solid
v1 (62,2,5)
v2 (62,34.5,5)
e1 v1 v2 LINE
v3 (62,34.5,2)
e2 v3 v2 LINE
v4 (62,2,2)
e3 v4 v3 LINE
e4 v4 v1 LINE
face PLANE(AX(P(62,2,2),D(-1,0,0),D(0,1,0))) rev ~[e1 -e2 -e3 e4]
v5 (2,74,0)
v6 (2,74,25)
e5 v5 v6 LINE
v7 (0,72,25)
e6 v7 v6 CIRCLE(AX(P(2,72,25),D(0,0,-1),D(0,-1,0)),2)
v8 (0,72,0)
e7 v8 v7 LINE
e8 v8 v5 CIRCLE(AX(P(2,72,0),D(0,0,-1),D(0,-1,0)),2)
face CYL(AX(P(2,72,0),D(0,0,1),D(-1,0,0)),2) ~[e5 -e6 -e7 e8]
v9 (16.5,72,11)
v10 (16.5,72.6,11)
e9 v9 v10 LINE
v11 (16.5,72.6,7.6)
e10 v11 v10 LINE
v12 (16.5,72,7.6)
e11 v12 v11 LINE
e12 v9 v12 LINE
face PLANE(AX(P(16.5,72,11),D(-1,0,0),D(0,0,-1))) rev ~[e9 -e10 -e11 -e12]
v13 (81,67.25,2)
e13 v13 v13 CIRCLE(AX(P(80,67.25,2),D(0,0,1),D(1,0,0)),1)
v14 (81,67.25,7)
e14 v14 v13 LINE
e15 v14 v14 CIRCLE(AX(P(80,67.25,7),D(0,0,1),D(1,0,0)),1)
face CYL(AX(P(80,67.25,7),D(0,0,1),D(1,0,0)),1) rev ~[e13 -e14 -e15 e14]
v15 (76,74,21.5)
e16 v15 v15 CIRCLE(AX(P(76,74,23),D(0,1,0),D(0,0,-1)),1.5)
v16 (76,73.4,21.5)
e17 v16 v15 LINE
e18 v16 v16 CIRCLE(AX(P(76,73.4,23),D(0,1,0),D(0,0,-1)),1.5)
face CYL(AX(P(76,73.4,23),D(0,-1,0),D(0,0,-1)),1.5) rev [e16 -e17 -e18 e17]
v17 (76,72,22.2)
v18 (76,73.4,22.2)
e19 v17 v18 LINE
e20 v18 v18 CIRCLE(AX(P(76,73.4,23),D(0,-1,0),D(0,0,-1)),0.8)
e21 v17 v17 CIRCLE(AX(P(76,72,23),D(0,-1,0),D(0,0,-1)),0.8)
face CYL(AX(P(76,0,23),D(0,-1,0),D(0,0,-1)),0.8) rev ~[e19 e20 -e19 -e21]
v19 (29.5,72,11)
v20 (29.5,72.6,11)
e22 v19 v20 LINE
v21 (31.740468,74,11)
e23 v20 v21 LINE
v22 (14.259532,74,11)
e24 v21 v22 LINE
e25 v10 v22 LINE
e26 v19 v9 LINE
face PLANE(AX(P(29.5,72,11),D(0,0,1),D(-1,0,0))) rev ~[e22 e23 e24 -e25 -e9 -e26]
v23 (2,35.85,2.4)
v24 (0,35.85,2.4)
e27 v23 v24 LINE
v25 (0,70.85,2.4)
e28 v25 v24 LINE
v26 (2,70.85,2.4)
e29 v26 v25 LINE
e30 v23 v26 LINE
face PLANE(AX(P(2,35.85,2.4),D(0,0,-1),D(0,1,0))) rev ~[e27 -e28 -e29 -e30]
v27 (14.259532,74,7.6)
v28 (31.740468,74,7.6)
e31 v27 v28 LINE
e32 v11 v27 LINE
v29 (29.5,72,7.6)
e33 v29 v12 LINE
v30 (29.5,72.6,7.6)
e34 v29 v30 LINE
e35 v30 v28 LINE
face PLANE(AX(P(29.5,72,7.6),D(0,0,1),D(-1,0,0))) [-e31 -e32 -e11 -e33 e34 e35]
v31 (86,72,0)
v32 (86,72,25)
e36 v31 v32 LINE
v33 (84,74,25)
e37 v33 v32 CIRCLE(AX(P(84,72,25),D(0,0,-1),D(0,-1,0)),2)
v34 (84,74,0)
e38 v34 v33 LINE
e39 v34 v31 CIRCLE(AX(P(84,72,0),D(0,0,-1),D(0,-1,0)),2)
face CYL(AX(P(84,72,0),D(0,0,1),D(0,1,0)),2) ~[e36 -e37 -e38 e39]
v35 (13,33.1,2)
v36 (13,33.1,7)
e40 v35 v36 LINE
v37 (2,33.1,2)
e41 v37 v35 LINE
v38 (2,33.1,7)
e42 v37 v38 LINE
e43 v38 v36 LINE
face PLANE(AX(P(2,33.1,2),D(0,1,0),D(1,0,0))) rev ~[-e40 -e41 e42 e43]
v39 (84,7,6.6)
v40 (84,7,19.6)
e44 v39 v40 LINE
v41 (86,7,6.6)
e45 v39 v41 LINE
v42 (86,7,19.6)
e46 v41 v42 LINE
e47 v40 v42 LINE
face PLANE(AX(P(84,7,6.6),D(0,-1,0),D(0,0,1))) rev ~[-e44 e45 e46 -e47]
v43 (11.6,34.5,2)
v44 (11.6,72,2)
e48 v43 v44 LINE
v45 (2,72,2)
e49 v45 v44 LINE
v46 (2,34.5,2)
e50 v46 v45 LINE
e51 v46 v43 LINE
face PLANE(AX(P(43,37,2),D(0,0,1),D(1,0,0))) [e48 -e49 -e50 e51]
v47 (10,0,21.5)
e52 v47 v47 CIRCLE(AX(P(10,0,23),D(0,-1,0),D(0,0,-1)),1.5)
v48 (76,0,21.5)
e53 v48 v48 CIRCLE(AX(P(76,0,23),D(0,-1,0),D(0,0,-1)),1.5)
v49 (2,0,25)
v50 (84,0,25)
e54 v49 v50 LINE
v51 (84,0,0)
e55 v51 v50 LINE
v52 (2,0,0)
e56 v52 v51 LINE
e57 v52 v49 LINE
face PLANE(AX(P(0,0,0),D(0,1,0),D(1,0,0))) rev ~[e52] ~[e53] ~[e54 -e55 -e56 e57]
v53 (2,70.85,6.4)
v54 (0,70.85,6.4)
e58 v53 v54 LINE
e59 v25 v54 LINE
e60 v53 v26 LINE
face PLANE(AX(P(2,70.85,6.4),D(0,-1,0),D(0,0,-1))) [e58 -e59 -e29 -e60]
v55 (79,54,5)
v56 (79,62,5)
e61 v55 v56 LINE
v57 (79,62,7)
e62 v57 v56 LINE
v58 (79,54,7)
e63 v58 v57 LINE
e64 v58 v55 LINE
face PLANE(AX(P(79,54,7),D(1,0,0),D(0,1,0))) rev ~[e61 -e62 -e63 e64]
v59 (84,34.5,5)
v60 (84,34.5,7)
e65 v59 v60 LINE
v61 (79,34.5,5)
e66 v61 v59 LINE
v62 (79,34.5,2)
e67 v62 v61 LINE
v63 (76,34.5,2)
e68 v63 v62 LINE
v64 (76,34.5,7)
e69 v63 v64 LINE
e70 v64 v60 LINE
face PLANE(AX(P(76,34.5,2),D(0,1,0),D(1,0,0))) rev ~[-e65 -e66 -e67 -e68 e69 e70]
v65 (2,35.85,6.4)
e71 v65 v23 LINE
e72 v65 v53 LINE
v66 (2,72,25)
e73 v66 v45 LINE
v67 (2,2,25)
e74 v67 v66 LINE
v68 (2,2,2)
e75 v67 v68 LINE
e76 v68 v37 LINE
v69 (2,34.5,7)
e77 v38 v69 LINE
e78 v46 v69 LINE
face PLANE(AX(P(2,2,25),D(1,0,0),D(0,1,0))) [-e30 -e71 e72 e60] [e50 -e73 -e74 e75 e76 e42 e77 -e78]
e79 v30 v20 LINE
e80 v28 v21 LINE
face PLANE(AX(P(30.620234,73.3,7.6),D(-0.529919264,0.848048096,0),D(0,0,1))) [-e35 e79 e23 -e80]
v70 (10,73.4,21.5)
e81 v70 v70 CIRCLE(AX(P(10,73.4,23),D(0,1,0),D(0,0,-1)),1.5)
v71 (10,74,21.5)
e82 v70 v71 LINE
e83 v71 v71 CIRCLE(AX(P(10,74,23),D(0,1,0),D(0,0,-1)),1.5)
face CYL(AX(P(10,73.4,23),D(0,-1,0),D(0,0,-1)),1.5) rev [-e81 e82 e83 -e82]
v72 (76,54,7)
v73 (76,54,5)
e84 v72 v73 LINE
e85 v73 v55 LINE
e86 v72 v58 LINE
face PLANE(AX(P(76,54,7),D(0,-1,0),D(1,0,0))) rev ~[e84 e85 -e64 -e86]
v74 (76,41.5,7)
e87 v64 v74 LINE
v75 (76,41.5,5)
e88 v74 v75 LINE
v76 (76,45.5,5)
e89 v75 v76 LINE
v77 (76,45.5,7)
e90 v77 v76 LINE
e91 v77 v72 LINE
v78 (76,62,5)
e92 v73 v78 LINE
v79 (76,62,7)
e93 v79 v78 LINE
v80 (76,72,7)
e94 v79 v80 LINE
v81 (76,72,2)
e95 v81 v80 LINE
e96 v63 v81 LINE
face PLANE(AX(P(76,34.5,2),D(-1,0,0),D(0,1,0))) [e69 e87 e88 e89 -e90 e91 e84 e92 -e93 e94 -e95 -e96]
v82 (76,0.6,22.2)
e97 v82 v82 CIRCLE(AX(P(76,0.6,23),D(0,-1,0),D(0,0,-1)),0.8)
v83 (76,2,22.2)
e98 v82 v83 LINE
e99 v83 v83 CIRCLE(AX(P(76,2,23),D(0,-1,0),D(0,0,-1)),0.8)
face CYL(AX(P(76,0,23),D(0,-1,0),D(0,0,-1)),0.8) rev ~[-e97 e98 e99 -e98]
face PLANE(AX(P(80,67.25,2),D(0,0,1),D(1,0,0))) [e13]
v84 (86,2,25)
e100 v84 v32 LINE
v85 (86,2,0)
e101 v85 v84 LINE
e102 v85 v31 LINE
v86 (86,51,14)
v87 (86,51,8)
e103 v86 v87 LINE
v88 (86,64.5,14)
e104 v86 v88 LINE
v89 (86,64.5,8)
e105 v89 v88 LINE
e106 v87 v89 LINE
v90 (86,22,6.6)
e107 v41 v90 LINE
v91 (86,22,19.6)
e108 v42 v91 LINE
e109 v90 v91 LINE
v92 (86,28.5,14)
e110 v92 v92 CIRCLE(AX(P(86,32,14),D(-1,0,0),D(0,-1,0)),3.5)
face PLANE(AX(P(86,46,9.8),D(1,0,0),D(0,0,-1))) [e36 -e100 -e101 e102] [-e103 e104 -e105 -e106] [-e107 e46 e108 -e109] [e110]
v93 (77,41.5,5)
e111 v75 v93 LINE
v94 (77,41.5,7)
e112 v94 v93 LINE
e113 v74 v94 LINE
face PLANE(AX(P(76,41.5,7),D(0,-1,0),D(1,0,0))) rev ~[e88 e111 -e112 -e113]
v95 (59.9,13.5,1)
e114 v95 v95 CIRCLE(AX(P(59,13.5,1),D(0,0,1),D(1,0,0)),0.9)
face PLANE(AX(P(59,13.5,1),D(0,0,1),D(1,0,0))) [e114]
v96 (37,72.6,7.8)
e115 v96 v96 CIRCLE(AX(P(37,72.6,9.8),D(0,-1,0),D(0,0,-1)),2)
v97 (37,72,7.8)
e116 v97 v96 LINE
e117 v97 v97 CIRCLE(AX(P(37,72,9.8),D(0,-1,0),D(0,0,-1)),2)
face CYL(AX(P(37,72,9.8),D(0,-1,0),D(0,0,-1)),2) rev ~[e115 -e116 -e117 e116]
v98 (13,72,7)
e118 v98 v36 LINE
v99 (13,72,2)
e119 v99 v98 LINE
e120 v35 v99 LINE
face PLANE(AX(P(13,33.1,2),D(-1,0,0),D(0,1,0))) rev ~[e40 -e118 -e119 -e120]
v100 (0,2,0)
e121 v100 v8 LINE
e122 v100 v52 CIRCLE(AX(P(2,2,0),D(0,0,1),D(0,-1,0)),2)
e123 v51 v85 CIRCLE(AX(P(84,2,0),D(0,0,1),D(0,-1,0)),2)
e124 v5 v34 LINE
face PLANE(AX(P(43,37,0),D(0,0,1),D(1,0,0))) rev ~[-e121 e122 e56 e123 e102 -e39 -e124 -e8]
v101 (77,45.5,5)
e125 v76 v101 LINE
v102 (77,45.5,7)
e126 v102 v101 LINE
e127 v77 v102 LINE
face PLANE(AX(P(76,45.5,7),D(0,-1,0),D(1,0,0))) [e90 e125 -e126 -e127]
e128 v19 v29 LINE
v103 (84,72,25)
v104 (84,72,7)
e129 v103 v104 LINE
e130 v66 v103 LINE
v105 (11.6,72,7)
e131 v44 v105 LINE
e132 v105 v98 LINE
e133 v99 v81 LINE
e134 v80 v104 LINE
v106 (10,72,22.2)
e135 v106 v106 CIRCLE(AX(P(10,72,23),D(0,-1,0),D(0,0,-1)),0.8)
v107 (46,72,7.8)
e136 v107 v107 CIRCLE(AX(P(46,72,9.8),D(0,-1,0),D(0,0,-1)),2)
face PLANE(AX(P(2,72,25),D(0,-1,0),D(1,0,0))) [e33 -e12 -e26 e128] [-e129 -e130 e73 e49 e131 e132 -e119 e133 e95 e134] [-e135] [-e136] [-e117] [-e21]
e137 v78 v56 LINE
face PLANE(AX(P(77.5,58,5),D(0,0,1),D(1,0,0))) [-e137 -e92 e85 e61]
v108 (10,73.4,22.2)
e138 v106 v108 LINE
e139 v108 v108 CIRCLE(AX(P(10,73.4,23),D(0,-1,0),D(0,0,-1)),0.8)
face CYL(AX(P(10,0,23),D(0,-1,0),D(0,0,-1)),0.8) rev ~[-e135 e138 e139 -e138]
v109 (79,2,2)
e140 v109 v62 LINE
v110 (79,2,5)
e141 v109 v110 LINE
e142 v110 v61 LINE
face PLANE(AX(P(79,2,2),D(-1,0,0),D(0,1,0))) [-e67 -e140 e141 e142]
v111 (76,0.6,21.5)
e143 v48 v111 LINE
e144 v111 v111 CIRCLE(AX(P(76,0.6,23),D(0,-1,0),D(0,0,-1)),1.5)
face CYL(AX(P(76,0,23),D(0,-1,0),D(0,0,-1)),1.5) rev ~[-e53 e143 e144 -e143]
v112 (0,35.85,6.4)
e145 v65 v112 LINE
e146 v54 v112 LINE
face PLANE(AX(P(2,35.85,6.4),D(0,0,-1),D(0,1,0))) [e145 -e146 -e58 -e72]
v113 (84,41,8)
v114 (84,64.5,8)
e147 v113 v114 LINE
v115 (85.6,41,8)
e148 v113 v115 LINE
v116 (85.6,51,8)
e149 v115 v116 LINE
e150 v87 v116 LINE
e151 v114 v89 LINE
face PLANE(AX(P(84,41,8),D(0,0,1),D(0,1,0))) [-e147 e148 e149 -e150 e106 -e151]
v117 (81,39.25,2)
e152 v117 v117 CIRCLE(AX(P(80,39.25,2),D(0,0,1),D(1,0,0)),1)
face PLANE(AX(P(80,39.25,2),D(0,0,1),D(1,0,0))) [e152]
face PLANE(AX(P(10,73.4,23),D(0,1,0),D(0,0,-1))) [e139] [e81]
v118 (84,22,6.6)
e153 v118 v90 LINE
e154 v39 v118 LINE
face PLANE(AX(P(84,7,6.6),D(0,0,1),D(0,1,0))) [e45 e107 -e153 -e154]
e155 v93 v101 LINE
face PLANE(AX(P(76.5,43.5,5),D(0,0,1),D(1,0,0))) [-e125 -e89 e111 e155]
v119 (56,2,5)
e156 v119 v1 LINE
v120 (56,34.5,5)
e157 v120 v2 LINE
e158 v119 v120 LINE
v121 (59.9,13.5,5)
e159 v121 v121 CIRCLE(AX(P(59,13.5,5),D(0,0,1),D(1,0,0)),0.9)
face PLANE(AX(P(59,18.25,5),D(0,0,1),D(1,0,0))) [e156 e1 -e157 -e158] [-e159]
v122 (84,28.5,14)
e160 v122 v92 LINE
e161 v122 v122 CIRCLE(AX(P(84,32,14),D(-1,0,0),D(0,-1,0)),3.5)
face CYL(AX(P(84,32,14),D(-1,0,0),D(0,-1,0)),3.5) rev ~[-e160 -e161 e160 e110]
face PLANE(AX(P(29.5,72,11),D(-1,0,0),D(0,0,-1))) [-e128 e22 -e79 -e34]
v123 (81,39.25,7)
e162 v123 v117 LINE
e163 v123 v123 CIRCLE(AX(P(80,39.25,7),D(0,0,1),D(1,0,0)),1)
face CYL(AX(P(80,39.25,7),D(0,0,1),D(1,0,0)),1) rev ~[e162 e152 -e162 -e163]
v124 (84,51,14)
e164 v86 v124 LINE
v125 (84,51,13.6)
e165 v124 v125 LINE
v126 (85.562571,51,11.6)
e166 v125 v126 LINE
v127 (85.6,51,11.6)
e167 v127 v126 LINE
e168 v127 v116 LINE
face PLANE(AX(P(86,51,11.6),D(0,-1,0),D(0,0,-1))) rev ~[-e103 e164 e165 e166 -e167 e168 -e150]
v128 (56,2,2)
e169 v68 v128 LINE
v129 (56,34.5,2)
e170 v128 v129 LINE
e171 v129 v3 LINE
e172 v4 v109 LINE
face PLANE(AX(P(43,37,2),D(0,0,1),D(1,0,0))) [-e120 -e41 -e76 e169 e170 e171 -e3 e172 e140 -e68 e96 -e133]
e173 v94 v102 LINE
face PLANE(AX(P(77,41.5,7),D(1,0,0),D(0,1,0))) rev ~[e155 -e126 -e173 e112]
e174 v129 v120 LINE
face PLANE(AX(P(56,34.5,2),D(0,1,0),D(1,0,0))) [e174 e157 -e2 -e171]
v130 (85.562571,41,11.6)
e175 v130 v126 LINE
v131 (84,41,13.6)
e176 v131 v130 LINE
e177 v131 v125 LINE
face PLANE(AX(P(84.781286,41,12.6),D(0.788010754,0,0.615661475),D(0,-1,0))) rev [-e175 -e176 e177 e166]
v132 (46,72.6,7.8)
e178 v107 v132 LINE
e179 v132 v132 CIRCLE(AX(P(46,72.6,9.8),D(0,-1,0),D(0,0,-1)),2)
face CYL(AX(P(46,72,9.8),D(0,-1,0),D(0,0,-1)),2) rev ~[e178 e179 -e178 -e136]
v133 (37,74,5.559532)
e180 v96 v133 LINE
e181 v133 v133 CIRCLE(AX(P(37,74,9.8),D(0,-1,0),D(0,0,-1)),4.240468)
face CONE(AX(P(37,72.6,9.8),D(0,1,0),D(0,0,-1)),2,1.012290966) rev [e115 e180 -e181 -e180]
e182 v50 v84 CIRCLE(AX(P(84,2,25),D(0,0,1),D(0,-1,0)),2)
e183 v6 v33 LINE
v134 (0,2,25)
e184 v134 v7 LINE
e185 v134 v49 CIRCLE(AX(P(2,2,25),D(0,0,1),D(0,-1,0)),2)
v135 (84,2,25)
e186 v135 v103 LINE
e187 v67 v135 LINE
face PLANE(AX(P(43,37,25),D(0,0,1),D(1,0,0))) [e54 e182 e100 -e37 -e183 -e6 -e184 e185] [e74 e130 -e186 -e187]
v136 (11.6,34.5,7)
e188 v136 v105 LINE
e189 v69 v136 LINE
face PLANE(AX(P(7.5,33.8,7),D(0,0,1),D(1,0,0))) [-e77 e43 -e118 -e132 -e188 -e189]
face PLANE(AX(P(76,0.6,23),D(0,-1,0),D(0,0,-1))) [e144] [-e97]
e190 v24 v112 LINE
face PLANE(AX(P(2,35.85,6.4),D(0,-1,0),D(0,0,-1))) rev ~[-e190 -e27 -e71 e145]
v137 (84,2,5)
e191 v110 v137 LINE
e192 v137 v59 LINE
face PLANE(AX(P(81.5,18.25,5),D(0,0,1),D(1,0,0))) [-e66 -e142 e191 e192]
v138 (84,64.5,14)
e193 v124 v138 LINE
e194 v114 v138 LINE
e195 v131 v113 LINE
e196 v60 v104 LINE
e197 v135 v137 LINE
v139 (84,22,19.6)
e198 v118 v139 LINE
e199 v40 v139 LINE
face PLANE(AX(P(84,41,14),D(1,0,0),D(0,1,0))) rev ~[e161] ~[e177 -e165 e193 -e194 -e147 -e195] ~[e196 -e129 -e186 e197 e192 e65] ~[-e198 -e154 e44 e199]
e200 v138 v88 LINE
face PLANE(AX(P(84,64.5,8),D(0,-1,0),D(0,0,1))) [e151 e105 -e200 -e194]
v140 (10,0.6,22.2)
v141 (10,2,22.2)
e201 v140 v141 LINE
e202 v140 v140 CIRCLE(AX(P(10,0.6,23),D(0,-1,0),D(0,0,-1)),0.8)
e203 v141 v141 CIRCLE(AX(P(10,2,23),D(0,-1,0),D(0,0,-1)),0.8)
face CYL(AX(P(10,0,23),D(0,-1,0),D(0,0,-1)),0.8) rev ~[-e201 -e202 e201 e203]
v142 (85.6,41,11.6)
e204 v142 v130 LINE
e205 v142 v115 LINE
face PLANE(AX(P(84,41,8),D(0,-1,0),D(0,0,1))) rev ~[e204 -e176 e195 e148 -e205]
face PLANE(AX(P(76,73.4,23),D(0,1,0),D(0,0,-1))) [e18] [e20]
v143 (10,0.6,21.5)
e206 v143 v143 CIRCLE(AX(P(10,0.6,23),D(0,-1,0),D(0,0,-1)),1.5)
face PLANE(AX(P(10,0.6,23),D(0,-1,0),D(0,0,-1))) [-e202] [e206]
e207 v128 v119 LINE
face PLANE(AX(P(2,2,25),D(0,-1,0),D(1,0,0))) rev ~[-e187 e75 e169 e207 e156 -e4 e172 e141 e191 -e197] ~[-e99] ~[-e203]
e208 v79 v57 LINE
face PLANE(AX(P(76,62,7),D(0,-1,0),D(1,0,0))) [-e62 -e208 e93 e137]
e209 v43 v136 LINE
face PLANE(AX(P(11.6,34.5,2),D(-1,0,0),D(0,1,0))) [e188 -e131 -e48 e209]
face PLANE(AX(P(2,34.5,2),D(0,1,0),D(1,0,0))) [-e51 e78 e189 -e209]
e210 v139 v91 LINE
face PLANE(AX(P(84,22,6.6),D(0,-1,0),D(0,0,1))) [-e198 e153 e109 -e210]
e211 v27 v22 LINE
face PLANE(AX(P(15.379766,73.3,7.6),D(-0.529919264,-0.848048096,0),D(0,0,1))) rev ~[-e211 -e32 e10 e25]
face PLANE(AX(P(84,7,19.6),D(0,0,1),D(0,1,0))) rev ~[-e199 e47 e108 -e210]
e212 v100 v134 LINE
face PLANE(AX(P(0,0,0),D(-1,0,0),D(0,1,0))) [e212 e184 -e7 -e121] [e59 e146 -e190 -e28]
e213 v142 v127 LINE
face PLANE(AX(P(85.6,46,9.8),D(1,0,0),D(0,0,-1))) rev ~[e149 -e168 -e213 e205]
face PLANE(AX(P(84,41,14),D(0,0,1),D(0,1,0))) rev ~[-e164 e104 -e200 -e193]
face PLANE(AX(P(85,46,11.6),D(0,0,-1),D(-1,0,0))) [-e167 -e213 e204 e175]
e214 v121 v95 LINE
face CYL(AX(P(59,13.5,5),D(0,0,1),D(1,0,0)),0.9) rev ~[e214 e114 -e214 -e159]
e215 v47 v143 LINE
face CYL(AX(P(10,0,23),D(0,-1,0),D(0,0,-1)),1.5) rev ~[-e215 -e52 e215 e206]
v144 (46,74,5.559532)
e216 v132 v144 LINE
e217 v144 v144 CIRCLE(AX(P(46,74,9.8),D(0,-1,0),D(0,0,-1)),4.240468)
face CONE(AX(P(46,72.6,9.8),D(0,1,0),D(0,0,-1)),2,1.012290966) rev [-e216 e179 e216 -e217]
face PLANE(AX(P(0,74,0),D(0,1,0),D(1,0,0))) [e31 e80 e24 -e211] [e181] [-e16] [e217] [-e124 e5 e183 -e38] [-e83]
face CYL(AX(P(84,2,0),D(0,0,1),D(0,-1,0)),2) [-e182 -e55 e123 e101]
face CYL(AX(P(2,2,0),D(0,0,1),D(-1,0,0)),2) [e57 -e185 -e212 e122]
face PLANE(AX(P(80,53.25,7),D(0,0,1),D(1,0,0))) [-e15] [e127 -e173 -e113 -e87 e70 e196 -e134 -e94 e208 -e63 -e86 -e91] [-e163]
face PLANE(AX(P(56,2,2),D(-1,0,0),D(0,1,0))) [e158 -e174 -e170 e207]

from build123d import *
from OCP.BRepFilletAPI import BRepFilletAPI_MakeChamfer

# Parameters (mm, degrees)
SKETCH1_W           = 86
SKETCH1_H           = 74
BOSS_EXTRUDE1_DEPTH = 25
SKETCH3_W           = 82
SKETCH3_H           = 70
CUT_EXTRUDE1_DEPTH  = 23
SKETCH4_W           = 8
SKETCH4_H           = 37.5
SKETCH4_W_2         = 1.4
BOSS_EXTRUDE2_DEPTH = 5
SKETCH5_W           = 3
SKETCH5_H           = 8
SKETCH5_W_2         = 1
SKETCH5_H_2         = 4
CUT_EXTRUDE2_DEPTH  = 2
SKETCH6_R           = 1
CUT_EXTRUDE3_DEPTH  = 5
SKETCH7_W           = 4
SKETCH7_H           = 35
CUT_EXTRUDE4_DEPTH  = 5
SKETCH8_W           = 6
SKETCH8_H           = 23.5
CUT_EXTRUDE5_DEPTH  = 5
SKETCH9_W           = 5
SKETCH9_H           = 32.5
SKETCH9_W_2         = 6
BOSS_EXTRUDE3_DEPTH = 3
SKETCH10_R          = 0.9
CUT_EXTRUDE6_DEPTH  = 4
SKETCH11_W          = 13
SKETCH11_H          = 15
CUT_EXTRUDE7_DEPTH  = 4
FILLET1_R           = 2
SKETCH12_R          = 3.5
CUT_EXTRUDE8_DEPTH  = 4
SKETCH13_R          = 2
SKETCH13_W          = 13
SKETCH13_H          = 3.4
CUT_EXTRUDE9_DEPTH  = 4
CHAMFER1_SIZE       = 1.4
CHAMFER1_SIZE2      = 2.240468341
SKETCH14_R          = 0.8
CUT_EXTRUDE10_DEPTH = 76
SKETCH15_R          = 1.5
CUT_EXTRUDE11_DEPTH = 0.6
CUT_EXTRUDE12_START = -0.6
SKETCH16_R          = 1.5
CUT_EXTRUDE12_DEPTH = 0.6
SKETCH17_W          = 2
SKETCH17_H          = 10
BOSS_EXTRUDE4_DEPTH = 2.4
SKETCH18_W          = 3.6
SKETCH18_H          = 10
BOSS_EXTRUDE5_DEPTH = 0.4
CHAMFER2_SIZE       = 2
CHAMFER2_SIZE2      = 1.562571253
SKETCH20_W          = 11
SKETCH20_H          = 1.4
BOSS_EXTRUDE6_DEPTH = 5


with BuildPart() as part:
    # Sketch1 → Boss-Extrude1 (new body)
    with BuildSketch(Plane.XY):
        with Locations((43, 37)):
            Rectangle(SKETCH1_W, SKETCH1_H)
    extrude(amount=BOSS_EXTRUDE1_DEPTH)

    # Sketch3 → Cut-Extrude1 (cut)
    with BuildSketch(Plane.XY.offset(25)):
        with Locations((43, 37)):
            Rectangle(SKETCH3_W, SKETCH3_H)
    extrude(amount=-CUT_EXTRUDE1_DEPTH, mode=Mode.SUBTRACT)

    # Sketch4 → Boss-Extrude2 (add)
    with BuildSketch(Plane.XY.offset(2)):
        with Locations((80, 53.25)):
            Rectangle(SKETCH4_W, SKETCH4_H)
        with Locations((12.3, 53.25)):
            Rectangle(SKETCH4_W_2, SKETCH4_H)
    extrude(amount=BOSS_EXTRUDE2_DEPTH)

    # Sketch5 → Cut-Extrude2 (cut)
    with BuildSketch(Plane.XY.offset(7)):
        with Locations((77.5, 58)):
            Rectangle(SKETCH5_W, SKETCH5_H)
        with Locations((76.5, 43.5)):
            Rectangle(SKETCH5_W_2, SKETCH5_H_2)
    extrude(amount=-CUT_EXTRUDE2_DEPTH, mode=Mode.SUBTRACT)

    # Sketch6 → Cut-Extrude3 (cut)
    with BuildSketch(Plane.XY.offset(7)):
        with Locations((80, 67.25)):
            Circle(SKETCH6_R)
        with Locations((80, 39.25)):
            Circle(SKETCH6_R)
    extrude(amount=-CUT_EXTRUDE3_DEPTH, mode=Mode.SUBTRACT)

    # Sketch7 → Cut-Extrude4 (cut)
    with BuildSketch(Plane(origin=(2, 0, 0), x_dir=(0, 0, -1), z_dir=(1, 0, 0))):
        with Locations((-4.4, 53.35)):
            Rectangle(SKETCH7_W, SKETCH7_H)
    extrude(amount=-CUT_EXTRUDE4_DEPTH, mode=Mode.SUBTRACT)

    # Sketch8 → Cut-Extrude5 (cut)
    with BuildSketch(Plane.ZY.offset(-84)):
        with Locations((11, 52.75)):
            Rectangle(SKETCH8_W, SKETCH8_H)
    extrude(amount=-CUT_EXTRUDE5_DEPTH, mode=Mode.SUBTRACT)

    # Sketch9 → Boss-Extrude3 (add)
    with BuildSketch(Plane.XY.offset(2)):
        with Locations((81.5, 18.25)):
            Rectangle(SKETCH9_W, SKETCH9_H)
        with Locations((59, 18.25)):
            Rectangle(SKETCH9_W_2, SKETCH9_H)
    extrude(amount=BOSS_EXTRUDE3_DEPTH)

    # Sketch10 → Cut-Extrude6 (cut)
    with BuildSketch(Plane.XY.offset(5)):
        with Locations((59, 13.5)):
            Circle(SKETCH10_R)
    extrude(amount=-CUT_EXTRUDE6_DEPTH, mode=Mode.SUBTRACT)

    # Sketch11 → Cut-Extrude7 (cut)
    with BuildSketch(Plane.ZY.offset(-84)):
        with Locations((13.1, 14.5)):
            Rectangle(SKETCH11_W, SKETCH11_H)
    extrude(amount=-CUT_EXTRUDE7_DEPTH, mode=Mode.SUBTRACT)

    # Fillet1
    fillet1_edges = [part.edges().sort_by_distance(p)[0] for p in [
        (0, 74, 12.5),
        (86, 74, 12.5),
        (86, 0, 12.5),
        (0, 0, 12.5),
    ]]
    fillet(fillet1_edges, radius=FILLET1_R)

    # Sketch12 → Cut-Extrude8 (cut)
    with BuildSketch(Plane.ZY.offset(-84)):
        with Locations(Location((14, 32, 0), (0, 0, 270))):
            Circle(SKETCH12_R)
    extrude(amount=-CUT_EXTRUDE8_DEPTH, mode=Mode.SUBTRACT)

    # Sketch13 → Cut-Extrude9 (cut)
    with BuildSketch(Plane(origin=(0, 72, 0), x_dir=(-1, 0, 0), z_dir=(0, -1, 0))):
        with Locations(Location((-37, -9.8, 0), (0, 0, 90))):
            Circle(SKETCH13_R)
        with Locations(Location((-46, -9.8, 0), (0, 0, 90))):
            Circle(SKETCH13_R)
        with Locations((-23, -9.3)):
            Rectangle(SKETCH13_W, SKETCH13_H)
    extrude(amount=-CUT_EXTRUDE9_DEPTH, mode=Mode.SUBTRACT)

    # Chamfer1: one chamfer whose edges measure the first distance from different faces: ONE call of the kernel's chamfer builder (chamfer() names one face for all edges)
    chamfer1_edges_1 = [part.edges().sort_by_distance(p)[0] for p in [
        (16.5, 74, 9.3),
    ]]
    chamfer1_side_1 = [part.faces().sort_by_distance(p)[0] for p in [
        (16.5, 73, 9.3),
    ]]
    chamfer1_edges_2 = [part.edges().sort_by_distance(p)[0] for p in [
        (29.5, 74, 9.3),
    ]]
    chamfer1_side_2 = [part.faces().sort_by_distance(p)[0] for p in [
        (29.5, 73, 9.3),
    ]]
    chamfer1_edges_3 = [part.edges().sort_by_distance(p)[0] for p in [
        (37, 74, 11.8),
    ]]
    chamfer1_side_3 = [part.faces().sort_by_distance(p)[0] for p in [
        (37, 73, 11.8),
    ]]
    chamfer1_edges_4 = [part.edges().sort_by_distance(p)[0] for p in [
        (46, 74, 11.8),
    ]]
    chamfer1_side_4 = [part.faces().sort_by_distance(p)[0] for p in [
        (46, 73, 11.8),
    ]]
    chamfer1 = BRepFilletAPI_MakeChamfer(part.part.solid().wrapped)
    for e in chamfer1_edges_1:
        chamfer1.Add(CHAMFER1_SIZE, CHAMFER1_SIZE2, e.wrapped, chamfer1_side_1[0].wrapped)  # the first distance lies on this face
    for e in chamfer1_edges_2:
        chamfer1.Add(CHAMFER1_SIZE, CHAMFER1_SIZE2, e.wrapped, chamfer1_side_2[0].wrapped)  # the first distance lies on this face
    for e in chamfer1_edges_3:
        chamfer1.Add(CHAMFER1_SIZE, CHAMFER1_SIZE2, e.wrapped, chamfer1_side_3[0].wrapped)  # the first distance lies on this face
    for e in chamfer1_edges_4:
        chamfer1.Add(CHAMFER1_SIZE, CHAMFER1_SIZE2, e.wrapped, chamfer1_side_4[0].wrapped)  # the first distance lies on this face
    add(Compound.cast(chamfer1.Shape()), mode=Mode.REPLACE)

    # Sketch14 → Cut-Extrude10 (cut)
    with BuildSketch(Plane(origin=(0, 0, 0), x_dir=(-1, 0, 0), z_dir=(0, -1, 0))):
        with Locations(Location((-10, -23, 0), (0, 0, 90))):
            Circle(SKETCH14_R)
        with Locations(Location((-76, -23, 0), (0, 0, 90))):
            Circle(SKETCH14_R)
    extrude(amount=-CUT_EXTRUDE10_DEPTH, mode=Mode.SUBTRACT)

    # Sketch15 → Cut-Extrude11 (cut)
    with BuildSketch(Plane(origin=(0, 0, 0), x_dir=(-1, 0, 0), z_dir=(0, -1, 0))):
        with Locations(Location((-10, -23, 0), (0, 0, 90))):
            Circle(SKETCH15_R)
        with Locations(Location((-76, -23, 0), (0, 0, 90))):
            Circle(SKETCH15_R)
    extrude(amount=-CUT_EXTRUDE11_DEPTH, mode=Mode.SUBTRACT)

    # Sketch16 → Cut-Extrude12 (cut)
    with BuildSketch(Plane(origin=(0, 74, 0), x_dir=(1, 0, 0), z_dir=(0, 1, 0)).offset(CUT_EXTRUDE12_START)):
        with Locations(Location((76, -23, 0), (0, 0, 90))):
            Circle(SKETCH16_R)
        with Locations(Location((10, -23, 0), (0, 0, 90))):
            Circle(SKETCH16_R)
    extrude(amount=CUT_EXTRUDE12_DEPTH, mode=Mode.SUBTRACT)

    # Sketch17 → Boss-Extrude4 (add)
    with BuildSketch(Plane(origin=(0, 0, 14), x_dir=(-1, 0, 0), z_dir=(0, 0, -1))):
        with Locations((-85, 46)):
            Rectangle(SKETCH17_W, SKETCH17_H)
    extrude(amount=BOSS_EXTRUDE4_DEPTH)

    # Sketch18 → Boss-Extrude5 (add)
    with BuildSketch(Plane(origin=(86, 0, 0), x_dir=(0, 0, -1), z_dir=(1, 0, 0))):
        with Locations((-9.8, 46)):
            Rectangle(SKETCH18_W, SKETCH18_H)
    extrude(amount=-BOSS_EXTRUDE5_DEPTH)

    # Chamfer2
    chamfer2_edges = [part.edges().sort_by_distance(p)[0] for p in [
        (84, 46, 11.6),
    ]]
    chamfer2_side = [part.faces().sort_by_distance(p)[0] for p in [
        (84, 38.391894294, 16.636900107),
    ]]
    chamfer(chamfer2_edges, length=CHAMFER2_SIZE, length2=CHAMFER2_SIZE2, reference=chamfer2_side[0])

    # Sketch20 → Boss-Extrude6 (add)
    with BuildSketch(Plane.XY.offset(2)):
        with Locations((7.5, 33.8)):
            Rectangle(SKETCH20_W, SKETCH20_H)
    extrude(amount=BOSS_EXTRUDE6_DEPTH)


solid = part.part
